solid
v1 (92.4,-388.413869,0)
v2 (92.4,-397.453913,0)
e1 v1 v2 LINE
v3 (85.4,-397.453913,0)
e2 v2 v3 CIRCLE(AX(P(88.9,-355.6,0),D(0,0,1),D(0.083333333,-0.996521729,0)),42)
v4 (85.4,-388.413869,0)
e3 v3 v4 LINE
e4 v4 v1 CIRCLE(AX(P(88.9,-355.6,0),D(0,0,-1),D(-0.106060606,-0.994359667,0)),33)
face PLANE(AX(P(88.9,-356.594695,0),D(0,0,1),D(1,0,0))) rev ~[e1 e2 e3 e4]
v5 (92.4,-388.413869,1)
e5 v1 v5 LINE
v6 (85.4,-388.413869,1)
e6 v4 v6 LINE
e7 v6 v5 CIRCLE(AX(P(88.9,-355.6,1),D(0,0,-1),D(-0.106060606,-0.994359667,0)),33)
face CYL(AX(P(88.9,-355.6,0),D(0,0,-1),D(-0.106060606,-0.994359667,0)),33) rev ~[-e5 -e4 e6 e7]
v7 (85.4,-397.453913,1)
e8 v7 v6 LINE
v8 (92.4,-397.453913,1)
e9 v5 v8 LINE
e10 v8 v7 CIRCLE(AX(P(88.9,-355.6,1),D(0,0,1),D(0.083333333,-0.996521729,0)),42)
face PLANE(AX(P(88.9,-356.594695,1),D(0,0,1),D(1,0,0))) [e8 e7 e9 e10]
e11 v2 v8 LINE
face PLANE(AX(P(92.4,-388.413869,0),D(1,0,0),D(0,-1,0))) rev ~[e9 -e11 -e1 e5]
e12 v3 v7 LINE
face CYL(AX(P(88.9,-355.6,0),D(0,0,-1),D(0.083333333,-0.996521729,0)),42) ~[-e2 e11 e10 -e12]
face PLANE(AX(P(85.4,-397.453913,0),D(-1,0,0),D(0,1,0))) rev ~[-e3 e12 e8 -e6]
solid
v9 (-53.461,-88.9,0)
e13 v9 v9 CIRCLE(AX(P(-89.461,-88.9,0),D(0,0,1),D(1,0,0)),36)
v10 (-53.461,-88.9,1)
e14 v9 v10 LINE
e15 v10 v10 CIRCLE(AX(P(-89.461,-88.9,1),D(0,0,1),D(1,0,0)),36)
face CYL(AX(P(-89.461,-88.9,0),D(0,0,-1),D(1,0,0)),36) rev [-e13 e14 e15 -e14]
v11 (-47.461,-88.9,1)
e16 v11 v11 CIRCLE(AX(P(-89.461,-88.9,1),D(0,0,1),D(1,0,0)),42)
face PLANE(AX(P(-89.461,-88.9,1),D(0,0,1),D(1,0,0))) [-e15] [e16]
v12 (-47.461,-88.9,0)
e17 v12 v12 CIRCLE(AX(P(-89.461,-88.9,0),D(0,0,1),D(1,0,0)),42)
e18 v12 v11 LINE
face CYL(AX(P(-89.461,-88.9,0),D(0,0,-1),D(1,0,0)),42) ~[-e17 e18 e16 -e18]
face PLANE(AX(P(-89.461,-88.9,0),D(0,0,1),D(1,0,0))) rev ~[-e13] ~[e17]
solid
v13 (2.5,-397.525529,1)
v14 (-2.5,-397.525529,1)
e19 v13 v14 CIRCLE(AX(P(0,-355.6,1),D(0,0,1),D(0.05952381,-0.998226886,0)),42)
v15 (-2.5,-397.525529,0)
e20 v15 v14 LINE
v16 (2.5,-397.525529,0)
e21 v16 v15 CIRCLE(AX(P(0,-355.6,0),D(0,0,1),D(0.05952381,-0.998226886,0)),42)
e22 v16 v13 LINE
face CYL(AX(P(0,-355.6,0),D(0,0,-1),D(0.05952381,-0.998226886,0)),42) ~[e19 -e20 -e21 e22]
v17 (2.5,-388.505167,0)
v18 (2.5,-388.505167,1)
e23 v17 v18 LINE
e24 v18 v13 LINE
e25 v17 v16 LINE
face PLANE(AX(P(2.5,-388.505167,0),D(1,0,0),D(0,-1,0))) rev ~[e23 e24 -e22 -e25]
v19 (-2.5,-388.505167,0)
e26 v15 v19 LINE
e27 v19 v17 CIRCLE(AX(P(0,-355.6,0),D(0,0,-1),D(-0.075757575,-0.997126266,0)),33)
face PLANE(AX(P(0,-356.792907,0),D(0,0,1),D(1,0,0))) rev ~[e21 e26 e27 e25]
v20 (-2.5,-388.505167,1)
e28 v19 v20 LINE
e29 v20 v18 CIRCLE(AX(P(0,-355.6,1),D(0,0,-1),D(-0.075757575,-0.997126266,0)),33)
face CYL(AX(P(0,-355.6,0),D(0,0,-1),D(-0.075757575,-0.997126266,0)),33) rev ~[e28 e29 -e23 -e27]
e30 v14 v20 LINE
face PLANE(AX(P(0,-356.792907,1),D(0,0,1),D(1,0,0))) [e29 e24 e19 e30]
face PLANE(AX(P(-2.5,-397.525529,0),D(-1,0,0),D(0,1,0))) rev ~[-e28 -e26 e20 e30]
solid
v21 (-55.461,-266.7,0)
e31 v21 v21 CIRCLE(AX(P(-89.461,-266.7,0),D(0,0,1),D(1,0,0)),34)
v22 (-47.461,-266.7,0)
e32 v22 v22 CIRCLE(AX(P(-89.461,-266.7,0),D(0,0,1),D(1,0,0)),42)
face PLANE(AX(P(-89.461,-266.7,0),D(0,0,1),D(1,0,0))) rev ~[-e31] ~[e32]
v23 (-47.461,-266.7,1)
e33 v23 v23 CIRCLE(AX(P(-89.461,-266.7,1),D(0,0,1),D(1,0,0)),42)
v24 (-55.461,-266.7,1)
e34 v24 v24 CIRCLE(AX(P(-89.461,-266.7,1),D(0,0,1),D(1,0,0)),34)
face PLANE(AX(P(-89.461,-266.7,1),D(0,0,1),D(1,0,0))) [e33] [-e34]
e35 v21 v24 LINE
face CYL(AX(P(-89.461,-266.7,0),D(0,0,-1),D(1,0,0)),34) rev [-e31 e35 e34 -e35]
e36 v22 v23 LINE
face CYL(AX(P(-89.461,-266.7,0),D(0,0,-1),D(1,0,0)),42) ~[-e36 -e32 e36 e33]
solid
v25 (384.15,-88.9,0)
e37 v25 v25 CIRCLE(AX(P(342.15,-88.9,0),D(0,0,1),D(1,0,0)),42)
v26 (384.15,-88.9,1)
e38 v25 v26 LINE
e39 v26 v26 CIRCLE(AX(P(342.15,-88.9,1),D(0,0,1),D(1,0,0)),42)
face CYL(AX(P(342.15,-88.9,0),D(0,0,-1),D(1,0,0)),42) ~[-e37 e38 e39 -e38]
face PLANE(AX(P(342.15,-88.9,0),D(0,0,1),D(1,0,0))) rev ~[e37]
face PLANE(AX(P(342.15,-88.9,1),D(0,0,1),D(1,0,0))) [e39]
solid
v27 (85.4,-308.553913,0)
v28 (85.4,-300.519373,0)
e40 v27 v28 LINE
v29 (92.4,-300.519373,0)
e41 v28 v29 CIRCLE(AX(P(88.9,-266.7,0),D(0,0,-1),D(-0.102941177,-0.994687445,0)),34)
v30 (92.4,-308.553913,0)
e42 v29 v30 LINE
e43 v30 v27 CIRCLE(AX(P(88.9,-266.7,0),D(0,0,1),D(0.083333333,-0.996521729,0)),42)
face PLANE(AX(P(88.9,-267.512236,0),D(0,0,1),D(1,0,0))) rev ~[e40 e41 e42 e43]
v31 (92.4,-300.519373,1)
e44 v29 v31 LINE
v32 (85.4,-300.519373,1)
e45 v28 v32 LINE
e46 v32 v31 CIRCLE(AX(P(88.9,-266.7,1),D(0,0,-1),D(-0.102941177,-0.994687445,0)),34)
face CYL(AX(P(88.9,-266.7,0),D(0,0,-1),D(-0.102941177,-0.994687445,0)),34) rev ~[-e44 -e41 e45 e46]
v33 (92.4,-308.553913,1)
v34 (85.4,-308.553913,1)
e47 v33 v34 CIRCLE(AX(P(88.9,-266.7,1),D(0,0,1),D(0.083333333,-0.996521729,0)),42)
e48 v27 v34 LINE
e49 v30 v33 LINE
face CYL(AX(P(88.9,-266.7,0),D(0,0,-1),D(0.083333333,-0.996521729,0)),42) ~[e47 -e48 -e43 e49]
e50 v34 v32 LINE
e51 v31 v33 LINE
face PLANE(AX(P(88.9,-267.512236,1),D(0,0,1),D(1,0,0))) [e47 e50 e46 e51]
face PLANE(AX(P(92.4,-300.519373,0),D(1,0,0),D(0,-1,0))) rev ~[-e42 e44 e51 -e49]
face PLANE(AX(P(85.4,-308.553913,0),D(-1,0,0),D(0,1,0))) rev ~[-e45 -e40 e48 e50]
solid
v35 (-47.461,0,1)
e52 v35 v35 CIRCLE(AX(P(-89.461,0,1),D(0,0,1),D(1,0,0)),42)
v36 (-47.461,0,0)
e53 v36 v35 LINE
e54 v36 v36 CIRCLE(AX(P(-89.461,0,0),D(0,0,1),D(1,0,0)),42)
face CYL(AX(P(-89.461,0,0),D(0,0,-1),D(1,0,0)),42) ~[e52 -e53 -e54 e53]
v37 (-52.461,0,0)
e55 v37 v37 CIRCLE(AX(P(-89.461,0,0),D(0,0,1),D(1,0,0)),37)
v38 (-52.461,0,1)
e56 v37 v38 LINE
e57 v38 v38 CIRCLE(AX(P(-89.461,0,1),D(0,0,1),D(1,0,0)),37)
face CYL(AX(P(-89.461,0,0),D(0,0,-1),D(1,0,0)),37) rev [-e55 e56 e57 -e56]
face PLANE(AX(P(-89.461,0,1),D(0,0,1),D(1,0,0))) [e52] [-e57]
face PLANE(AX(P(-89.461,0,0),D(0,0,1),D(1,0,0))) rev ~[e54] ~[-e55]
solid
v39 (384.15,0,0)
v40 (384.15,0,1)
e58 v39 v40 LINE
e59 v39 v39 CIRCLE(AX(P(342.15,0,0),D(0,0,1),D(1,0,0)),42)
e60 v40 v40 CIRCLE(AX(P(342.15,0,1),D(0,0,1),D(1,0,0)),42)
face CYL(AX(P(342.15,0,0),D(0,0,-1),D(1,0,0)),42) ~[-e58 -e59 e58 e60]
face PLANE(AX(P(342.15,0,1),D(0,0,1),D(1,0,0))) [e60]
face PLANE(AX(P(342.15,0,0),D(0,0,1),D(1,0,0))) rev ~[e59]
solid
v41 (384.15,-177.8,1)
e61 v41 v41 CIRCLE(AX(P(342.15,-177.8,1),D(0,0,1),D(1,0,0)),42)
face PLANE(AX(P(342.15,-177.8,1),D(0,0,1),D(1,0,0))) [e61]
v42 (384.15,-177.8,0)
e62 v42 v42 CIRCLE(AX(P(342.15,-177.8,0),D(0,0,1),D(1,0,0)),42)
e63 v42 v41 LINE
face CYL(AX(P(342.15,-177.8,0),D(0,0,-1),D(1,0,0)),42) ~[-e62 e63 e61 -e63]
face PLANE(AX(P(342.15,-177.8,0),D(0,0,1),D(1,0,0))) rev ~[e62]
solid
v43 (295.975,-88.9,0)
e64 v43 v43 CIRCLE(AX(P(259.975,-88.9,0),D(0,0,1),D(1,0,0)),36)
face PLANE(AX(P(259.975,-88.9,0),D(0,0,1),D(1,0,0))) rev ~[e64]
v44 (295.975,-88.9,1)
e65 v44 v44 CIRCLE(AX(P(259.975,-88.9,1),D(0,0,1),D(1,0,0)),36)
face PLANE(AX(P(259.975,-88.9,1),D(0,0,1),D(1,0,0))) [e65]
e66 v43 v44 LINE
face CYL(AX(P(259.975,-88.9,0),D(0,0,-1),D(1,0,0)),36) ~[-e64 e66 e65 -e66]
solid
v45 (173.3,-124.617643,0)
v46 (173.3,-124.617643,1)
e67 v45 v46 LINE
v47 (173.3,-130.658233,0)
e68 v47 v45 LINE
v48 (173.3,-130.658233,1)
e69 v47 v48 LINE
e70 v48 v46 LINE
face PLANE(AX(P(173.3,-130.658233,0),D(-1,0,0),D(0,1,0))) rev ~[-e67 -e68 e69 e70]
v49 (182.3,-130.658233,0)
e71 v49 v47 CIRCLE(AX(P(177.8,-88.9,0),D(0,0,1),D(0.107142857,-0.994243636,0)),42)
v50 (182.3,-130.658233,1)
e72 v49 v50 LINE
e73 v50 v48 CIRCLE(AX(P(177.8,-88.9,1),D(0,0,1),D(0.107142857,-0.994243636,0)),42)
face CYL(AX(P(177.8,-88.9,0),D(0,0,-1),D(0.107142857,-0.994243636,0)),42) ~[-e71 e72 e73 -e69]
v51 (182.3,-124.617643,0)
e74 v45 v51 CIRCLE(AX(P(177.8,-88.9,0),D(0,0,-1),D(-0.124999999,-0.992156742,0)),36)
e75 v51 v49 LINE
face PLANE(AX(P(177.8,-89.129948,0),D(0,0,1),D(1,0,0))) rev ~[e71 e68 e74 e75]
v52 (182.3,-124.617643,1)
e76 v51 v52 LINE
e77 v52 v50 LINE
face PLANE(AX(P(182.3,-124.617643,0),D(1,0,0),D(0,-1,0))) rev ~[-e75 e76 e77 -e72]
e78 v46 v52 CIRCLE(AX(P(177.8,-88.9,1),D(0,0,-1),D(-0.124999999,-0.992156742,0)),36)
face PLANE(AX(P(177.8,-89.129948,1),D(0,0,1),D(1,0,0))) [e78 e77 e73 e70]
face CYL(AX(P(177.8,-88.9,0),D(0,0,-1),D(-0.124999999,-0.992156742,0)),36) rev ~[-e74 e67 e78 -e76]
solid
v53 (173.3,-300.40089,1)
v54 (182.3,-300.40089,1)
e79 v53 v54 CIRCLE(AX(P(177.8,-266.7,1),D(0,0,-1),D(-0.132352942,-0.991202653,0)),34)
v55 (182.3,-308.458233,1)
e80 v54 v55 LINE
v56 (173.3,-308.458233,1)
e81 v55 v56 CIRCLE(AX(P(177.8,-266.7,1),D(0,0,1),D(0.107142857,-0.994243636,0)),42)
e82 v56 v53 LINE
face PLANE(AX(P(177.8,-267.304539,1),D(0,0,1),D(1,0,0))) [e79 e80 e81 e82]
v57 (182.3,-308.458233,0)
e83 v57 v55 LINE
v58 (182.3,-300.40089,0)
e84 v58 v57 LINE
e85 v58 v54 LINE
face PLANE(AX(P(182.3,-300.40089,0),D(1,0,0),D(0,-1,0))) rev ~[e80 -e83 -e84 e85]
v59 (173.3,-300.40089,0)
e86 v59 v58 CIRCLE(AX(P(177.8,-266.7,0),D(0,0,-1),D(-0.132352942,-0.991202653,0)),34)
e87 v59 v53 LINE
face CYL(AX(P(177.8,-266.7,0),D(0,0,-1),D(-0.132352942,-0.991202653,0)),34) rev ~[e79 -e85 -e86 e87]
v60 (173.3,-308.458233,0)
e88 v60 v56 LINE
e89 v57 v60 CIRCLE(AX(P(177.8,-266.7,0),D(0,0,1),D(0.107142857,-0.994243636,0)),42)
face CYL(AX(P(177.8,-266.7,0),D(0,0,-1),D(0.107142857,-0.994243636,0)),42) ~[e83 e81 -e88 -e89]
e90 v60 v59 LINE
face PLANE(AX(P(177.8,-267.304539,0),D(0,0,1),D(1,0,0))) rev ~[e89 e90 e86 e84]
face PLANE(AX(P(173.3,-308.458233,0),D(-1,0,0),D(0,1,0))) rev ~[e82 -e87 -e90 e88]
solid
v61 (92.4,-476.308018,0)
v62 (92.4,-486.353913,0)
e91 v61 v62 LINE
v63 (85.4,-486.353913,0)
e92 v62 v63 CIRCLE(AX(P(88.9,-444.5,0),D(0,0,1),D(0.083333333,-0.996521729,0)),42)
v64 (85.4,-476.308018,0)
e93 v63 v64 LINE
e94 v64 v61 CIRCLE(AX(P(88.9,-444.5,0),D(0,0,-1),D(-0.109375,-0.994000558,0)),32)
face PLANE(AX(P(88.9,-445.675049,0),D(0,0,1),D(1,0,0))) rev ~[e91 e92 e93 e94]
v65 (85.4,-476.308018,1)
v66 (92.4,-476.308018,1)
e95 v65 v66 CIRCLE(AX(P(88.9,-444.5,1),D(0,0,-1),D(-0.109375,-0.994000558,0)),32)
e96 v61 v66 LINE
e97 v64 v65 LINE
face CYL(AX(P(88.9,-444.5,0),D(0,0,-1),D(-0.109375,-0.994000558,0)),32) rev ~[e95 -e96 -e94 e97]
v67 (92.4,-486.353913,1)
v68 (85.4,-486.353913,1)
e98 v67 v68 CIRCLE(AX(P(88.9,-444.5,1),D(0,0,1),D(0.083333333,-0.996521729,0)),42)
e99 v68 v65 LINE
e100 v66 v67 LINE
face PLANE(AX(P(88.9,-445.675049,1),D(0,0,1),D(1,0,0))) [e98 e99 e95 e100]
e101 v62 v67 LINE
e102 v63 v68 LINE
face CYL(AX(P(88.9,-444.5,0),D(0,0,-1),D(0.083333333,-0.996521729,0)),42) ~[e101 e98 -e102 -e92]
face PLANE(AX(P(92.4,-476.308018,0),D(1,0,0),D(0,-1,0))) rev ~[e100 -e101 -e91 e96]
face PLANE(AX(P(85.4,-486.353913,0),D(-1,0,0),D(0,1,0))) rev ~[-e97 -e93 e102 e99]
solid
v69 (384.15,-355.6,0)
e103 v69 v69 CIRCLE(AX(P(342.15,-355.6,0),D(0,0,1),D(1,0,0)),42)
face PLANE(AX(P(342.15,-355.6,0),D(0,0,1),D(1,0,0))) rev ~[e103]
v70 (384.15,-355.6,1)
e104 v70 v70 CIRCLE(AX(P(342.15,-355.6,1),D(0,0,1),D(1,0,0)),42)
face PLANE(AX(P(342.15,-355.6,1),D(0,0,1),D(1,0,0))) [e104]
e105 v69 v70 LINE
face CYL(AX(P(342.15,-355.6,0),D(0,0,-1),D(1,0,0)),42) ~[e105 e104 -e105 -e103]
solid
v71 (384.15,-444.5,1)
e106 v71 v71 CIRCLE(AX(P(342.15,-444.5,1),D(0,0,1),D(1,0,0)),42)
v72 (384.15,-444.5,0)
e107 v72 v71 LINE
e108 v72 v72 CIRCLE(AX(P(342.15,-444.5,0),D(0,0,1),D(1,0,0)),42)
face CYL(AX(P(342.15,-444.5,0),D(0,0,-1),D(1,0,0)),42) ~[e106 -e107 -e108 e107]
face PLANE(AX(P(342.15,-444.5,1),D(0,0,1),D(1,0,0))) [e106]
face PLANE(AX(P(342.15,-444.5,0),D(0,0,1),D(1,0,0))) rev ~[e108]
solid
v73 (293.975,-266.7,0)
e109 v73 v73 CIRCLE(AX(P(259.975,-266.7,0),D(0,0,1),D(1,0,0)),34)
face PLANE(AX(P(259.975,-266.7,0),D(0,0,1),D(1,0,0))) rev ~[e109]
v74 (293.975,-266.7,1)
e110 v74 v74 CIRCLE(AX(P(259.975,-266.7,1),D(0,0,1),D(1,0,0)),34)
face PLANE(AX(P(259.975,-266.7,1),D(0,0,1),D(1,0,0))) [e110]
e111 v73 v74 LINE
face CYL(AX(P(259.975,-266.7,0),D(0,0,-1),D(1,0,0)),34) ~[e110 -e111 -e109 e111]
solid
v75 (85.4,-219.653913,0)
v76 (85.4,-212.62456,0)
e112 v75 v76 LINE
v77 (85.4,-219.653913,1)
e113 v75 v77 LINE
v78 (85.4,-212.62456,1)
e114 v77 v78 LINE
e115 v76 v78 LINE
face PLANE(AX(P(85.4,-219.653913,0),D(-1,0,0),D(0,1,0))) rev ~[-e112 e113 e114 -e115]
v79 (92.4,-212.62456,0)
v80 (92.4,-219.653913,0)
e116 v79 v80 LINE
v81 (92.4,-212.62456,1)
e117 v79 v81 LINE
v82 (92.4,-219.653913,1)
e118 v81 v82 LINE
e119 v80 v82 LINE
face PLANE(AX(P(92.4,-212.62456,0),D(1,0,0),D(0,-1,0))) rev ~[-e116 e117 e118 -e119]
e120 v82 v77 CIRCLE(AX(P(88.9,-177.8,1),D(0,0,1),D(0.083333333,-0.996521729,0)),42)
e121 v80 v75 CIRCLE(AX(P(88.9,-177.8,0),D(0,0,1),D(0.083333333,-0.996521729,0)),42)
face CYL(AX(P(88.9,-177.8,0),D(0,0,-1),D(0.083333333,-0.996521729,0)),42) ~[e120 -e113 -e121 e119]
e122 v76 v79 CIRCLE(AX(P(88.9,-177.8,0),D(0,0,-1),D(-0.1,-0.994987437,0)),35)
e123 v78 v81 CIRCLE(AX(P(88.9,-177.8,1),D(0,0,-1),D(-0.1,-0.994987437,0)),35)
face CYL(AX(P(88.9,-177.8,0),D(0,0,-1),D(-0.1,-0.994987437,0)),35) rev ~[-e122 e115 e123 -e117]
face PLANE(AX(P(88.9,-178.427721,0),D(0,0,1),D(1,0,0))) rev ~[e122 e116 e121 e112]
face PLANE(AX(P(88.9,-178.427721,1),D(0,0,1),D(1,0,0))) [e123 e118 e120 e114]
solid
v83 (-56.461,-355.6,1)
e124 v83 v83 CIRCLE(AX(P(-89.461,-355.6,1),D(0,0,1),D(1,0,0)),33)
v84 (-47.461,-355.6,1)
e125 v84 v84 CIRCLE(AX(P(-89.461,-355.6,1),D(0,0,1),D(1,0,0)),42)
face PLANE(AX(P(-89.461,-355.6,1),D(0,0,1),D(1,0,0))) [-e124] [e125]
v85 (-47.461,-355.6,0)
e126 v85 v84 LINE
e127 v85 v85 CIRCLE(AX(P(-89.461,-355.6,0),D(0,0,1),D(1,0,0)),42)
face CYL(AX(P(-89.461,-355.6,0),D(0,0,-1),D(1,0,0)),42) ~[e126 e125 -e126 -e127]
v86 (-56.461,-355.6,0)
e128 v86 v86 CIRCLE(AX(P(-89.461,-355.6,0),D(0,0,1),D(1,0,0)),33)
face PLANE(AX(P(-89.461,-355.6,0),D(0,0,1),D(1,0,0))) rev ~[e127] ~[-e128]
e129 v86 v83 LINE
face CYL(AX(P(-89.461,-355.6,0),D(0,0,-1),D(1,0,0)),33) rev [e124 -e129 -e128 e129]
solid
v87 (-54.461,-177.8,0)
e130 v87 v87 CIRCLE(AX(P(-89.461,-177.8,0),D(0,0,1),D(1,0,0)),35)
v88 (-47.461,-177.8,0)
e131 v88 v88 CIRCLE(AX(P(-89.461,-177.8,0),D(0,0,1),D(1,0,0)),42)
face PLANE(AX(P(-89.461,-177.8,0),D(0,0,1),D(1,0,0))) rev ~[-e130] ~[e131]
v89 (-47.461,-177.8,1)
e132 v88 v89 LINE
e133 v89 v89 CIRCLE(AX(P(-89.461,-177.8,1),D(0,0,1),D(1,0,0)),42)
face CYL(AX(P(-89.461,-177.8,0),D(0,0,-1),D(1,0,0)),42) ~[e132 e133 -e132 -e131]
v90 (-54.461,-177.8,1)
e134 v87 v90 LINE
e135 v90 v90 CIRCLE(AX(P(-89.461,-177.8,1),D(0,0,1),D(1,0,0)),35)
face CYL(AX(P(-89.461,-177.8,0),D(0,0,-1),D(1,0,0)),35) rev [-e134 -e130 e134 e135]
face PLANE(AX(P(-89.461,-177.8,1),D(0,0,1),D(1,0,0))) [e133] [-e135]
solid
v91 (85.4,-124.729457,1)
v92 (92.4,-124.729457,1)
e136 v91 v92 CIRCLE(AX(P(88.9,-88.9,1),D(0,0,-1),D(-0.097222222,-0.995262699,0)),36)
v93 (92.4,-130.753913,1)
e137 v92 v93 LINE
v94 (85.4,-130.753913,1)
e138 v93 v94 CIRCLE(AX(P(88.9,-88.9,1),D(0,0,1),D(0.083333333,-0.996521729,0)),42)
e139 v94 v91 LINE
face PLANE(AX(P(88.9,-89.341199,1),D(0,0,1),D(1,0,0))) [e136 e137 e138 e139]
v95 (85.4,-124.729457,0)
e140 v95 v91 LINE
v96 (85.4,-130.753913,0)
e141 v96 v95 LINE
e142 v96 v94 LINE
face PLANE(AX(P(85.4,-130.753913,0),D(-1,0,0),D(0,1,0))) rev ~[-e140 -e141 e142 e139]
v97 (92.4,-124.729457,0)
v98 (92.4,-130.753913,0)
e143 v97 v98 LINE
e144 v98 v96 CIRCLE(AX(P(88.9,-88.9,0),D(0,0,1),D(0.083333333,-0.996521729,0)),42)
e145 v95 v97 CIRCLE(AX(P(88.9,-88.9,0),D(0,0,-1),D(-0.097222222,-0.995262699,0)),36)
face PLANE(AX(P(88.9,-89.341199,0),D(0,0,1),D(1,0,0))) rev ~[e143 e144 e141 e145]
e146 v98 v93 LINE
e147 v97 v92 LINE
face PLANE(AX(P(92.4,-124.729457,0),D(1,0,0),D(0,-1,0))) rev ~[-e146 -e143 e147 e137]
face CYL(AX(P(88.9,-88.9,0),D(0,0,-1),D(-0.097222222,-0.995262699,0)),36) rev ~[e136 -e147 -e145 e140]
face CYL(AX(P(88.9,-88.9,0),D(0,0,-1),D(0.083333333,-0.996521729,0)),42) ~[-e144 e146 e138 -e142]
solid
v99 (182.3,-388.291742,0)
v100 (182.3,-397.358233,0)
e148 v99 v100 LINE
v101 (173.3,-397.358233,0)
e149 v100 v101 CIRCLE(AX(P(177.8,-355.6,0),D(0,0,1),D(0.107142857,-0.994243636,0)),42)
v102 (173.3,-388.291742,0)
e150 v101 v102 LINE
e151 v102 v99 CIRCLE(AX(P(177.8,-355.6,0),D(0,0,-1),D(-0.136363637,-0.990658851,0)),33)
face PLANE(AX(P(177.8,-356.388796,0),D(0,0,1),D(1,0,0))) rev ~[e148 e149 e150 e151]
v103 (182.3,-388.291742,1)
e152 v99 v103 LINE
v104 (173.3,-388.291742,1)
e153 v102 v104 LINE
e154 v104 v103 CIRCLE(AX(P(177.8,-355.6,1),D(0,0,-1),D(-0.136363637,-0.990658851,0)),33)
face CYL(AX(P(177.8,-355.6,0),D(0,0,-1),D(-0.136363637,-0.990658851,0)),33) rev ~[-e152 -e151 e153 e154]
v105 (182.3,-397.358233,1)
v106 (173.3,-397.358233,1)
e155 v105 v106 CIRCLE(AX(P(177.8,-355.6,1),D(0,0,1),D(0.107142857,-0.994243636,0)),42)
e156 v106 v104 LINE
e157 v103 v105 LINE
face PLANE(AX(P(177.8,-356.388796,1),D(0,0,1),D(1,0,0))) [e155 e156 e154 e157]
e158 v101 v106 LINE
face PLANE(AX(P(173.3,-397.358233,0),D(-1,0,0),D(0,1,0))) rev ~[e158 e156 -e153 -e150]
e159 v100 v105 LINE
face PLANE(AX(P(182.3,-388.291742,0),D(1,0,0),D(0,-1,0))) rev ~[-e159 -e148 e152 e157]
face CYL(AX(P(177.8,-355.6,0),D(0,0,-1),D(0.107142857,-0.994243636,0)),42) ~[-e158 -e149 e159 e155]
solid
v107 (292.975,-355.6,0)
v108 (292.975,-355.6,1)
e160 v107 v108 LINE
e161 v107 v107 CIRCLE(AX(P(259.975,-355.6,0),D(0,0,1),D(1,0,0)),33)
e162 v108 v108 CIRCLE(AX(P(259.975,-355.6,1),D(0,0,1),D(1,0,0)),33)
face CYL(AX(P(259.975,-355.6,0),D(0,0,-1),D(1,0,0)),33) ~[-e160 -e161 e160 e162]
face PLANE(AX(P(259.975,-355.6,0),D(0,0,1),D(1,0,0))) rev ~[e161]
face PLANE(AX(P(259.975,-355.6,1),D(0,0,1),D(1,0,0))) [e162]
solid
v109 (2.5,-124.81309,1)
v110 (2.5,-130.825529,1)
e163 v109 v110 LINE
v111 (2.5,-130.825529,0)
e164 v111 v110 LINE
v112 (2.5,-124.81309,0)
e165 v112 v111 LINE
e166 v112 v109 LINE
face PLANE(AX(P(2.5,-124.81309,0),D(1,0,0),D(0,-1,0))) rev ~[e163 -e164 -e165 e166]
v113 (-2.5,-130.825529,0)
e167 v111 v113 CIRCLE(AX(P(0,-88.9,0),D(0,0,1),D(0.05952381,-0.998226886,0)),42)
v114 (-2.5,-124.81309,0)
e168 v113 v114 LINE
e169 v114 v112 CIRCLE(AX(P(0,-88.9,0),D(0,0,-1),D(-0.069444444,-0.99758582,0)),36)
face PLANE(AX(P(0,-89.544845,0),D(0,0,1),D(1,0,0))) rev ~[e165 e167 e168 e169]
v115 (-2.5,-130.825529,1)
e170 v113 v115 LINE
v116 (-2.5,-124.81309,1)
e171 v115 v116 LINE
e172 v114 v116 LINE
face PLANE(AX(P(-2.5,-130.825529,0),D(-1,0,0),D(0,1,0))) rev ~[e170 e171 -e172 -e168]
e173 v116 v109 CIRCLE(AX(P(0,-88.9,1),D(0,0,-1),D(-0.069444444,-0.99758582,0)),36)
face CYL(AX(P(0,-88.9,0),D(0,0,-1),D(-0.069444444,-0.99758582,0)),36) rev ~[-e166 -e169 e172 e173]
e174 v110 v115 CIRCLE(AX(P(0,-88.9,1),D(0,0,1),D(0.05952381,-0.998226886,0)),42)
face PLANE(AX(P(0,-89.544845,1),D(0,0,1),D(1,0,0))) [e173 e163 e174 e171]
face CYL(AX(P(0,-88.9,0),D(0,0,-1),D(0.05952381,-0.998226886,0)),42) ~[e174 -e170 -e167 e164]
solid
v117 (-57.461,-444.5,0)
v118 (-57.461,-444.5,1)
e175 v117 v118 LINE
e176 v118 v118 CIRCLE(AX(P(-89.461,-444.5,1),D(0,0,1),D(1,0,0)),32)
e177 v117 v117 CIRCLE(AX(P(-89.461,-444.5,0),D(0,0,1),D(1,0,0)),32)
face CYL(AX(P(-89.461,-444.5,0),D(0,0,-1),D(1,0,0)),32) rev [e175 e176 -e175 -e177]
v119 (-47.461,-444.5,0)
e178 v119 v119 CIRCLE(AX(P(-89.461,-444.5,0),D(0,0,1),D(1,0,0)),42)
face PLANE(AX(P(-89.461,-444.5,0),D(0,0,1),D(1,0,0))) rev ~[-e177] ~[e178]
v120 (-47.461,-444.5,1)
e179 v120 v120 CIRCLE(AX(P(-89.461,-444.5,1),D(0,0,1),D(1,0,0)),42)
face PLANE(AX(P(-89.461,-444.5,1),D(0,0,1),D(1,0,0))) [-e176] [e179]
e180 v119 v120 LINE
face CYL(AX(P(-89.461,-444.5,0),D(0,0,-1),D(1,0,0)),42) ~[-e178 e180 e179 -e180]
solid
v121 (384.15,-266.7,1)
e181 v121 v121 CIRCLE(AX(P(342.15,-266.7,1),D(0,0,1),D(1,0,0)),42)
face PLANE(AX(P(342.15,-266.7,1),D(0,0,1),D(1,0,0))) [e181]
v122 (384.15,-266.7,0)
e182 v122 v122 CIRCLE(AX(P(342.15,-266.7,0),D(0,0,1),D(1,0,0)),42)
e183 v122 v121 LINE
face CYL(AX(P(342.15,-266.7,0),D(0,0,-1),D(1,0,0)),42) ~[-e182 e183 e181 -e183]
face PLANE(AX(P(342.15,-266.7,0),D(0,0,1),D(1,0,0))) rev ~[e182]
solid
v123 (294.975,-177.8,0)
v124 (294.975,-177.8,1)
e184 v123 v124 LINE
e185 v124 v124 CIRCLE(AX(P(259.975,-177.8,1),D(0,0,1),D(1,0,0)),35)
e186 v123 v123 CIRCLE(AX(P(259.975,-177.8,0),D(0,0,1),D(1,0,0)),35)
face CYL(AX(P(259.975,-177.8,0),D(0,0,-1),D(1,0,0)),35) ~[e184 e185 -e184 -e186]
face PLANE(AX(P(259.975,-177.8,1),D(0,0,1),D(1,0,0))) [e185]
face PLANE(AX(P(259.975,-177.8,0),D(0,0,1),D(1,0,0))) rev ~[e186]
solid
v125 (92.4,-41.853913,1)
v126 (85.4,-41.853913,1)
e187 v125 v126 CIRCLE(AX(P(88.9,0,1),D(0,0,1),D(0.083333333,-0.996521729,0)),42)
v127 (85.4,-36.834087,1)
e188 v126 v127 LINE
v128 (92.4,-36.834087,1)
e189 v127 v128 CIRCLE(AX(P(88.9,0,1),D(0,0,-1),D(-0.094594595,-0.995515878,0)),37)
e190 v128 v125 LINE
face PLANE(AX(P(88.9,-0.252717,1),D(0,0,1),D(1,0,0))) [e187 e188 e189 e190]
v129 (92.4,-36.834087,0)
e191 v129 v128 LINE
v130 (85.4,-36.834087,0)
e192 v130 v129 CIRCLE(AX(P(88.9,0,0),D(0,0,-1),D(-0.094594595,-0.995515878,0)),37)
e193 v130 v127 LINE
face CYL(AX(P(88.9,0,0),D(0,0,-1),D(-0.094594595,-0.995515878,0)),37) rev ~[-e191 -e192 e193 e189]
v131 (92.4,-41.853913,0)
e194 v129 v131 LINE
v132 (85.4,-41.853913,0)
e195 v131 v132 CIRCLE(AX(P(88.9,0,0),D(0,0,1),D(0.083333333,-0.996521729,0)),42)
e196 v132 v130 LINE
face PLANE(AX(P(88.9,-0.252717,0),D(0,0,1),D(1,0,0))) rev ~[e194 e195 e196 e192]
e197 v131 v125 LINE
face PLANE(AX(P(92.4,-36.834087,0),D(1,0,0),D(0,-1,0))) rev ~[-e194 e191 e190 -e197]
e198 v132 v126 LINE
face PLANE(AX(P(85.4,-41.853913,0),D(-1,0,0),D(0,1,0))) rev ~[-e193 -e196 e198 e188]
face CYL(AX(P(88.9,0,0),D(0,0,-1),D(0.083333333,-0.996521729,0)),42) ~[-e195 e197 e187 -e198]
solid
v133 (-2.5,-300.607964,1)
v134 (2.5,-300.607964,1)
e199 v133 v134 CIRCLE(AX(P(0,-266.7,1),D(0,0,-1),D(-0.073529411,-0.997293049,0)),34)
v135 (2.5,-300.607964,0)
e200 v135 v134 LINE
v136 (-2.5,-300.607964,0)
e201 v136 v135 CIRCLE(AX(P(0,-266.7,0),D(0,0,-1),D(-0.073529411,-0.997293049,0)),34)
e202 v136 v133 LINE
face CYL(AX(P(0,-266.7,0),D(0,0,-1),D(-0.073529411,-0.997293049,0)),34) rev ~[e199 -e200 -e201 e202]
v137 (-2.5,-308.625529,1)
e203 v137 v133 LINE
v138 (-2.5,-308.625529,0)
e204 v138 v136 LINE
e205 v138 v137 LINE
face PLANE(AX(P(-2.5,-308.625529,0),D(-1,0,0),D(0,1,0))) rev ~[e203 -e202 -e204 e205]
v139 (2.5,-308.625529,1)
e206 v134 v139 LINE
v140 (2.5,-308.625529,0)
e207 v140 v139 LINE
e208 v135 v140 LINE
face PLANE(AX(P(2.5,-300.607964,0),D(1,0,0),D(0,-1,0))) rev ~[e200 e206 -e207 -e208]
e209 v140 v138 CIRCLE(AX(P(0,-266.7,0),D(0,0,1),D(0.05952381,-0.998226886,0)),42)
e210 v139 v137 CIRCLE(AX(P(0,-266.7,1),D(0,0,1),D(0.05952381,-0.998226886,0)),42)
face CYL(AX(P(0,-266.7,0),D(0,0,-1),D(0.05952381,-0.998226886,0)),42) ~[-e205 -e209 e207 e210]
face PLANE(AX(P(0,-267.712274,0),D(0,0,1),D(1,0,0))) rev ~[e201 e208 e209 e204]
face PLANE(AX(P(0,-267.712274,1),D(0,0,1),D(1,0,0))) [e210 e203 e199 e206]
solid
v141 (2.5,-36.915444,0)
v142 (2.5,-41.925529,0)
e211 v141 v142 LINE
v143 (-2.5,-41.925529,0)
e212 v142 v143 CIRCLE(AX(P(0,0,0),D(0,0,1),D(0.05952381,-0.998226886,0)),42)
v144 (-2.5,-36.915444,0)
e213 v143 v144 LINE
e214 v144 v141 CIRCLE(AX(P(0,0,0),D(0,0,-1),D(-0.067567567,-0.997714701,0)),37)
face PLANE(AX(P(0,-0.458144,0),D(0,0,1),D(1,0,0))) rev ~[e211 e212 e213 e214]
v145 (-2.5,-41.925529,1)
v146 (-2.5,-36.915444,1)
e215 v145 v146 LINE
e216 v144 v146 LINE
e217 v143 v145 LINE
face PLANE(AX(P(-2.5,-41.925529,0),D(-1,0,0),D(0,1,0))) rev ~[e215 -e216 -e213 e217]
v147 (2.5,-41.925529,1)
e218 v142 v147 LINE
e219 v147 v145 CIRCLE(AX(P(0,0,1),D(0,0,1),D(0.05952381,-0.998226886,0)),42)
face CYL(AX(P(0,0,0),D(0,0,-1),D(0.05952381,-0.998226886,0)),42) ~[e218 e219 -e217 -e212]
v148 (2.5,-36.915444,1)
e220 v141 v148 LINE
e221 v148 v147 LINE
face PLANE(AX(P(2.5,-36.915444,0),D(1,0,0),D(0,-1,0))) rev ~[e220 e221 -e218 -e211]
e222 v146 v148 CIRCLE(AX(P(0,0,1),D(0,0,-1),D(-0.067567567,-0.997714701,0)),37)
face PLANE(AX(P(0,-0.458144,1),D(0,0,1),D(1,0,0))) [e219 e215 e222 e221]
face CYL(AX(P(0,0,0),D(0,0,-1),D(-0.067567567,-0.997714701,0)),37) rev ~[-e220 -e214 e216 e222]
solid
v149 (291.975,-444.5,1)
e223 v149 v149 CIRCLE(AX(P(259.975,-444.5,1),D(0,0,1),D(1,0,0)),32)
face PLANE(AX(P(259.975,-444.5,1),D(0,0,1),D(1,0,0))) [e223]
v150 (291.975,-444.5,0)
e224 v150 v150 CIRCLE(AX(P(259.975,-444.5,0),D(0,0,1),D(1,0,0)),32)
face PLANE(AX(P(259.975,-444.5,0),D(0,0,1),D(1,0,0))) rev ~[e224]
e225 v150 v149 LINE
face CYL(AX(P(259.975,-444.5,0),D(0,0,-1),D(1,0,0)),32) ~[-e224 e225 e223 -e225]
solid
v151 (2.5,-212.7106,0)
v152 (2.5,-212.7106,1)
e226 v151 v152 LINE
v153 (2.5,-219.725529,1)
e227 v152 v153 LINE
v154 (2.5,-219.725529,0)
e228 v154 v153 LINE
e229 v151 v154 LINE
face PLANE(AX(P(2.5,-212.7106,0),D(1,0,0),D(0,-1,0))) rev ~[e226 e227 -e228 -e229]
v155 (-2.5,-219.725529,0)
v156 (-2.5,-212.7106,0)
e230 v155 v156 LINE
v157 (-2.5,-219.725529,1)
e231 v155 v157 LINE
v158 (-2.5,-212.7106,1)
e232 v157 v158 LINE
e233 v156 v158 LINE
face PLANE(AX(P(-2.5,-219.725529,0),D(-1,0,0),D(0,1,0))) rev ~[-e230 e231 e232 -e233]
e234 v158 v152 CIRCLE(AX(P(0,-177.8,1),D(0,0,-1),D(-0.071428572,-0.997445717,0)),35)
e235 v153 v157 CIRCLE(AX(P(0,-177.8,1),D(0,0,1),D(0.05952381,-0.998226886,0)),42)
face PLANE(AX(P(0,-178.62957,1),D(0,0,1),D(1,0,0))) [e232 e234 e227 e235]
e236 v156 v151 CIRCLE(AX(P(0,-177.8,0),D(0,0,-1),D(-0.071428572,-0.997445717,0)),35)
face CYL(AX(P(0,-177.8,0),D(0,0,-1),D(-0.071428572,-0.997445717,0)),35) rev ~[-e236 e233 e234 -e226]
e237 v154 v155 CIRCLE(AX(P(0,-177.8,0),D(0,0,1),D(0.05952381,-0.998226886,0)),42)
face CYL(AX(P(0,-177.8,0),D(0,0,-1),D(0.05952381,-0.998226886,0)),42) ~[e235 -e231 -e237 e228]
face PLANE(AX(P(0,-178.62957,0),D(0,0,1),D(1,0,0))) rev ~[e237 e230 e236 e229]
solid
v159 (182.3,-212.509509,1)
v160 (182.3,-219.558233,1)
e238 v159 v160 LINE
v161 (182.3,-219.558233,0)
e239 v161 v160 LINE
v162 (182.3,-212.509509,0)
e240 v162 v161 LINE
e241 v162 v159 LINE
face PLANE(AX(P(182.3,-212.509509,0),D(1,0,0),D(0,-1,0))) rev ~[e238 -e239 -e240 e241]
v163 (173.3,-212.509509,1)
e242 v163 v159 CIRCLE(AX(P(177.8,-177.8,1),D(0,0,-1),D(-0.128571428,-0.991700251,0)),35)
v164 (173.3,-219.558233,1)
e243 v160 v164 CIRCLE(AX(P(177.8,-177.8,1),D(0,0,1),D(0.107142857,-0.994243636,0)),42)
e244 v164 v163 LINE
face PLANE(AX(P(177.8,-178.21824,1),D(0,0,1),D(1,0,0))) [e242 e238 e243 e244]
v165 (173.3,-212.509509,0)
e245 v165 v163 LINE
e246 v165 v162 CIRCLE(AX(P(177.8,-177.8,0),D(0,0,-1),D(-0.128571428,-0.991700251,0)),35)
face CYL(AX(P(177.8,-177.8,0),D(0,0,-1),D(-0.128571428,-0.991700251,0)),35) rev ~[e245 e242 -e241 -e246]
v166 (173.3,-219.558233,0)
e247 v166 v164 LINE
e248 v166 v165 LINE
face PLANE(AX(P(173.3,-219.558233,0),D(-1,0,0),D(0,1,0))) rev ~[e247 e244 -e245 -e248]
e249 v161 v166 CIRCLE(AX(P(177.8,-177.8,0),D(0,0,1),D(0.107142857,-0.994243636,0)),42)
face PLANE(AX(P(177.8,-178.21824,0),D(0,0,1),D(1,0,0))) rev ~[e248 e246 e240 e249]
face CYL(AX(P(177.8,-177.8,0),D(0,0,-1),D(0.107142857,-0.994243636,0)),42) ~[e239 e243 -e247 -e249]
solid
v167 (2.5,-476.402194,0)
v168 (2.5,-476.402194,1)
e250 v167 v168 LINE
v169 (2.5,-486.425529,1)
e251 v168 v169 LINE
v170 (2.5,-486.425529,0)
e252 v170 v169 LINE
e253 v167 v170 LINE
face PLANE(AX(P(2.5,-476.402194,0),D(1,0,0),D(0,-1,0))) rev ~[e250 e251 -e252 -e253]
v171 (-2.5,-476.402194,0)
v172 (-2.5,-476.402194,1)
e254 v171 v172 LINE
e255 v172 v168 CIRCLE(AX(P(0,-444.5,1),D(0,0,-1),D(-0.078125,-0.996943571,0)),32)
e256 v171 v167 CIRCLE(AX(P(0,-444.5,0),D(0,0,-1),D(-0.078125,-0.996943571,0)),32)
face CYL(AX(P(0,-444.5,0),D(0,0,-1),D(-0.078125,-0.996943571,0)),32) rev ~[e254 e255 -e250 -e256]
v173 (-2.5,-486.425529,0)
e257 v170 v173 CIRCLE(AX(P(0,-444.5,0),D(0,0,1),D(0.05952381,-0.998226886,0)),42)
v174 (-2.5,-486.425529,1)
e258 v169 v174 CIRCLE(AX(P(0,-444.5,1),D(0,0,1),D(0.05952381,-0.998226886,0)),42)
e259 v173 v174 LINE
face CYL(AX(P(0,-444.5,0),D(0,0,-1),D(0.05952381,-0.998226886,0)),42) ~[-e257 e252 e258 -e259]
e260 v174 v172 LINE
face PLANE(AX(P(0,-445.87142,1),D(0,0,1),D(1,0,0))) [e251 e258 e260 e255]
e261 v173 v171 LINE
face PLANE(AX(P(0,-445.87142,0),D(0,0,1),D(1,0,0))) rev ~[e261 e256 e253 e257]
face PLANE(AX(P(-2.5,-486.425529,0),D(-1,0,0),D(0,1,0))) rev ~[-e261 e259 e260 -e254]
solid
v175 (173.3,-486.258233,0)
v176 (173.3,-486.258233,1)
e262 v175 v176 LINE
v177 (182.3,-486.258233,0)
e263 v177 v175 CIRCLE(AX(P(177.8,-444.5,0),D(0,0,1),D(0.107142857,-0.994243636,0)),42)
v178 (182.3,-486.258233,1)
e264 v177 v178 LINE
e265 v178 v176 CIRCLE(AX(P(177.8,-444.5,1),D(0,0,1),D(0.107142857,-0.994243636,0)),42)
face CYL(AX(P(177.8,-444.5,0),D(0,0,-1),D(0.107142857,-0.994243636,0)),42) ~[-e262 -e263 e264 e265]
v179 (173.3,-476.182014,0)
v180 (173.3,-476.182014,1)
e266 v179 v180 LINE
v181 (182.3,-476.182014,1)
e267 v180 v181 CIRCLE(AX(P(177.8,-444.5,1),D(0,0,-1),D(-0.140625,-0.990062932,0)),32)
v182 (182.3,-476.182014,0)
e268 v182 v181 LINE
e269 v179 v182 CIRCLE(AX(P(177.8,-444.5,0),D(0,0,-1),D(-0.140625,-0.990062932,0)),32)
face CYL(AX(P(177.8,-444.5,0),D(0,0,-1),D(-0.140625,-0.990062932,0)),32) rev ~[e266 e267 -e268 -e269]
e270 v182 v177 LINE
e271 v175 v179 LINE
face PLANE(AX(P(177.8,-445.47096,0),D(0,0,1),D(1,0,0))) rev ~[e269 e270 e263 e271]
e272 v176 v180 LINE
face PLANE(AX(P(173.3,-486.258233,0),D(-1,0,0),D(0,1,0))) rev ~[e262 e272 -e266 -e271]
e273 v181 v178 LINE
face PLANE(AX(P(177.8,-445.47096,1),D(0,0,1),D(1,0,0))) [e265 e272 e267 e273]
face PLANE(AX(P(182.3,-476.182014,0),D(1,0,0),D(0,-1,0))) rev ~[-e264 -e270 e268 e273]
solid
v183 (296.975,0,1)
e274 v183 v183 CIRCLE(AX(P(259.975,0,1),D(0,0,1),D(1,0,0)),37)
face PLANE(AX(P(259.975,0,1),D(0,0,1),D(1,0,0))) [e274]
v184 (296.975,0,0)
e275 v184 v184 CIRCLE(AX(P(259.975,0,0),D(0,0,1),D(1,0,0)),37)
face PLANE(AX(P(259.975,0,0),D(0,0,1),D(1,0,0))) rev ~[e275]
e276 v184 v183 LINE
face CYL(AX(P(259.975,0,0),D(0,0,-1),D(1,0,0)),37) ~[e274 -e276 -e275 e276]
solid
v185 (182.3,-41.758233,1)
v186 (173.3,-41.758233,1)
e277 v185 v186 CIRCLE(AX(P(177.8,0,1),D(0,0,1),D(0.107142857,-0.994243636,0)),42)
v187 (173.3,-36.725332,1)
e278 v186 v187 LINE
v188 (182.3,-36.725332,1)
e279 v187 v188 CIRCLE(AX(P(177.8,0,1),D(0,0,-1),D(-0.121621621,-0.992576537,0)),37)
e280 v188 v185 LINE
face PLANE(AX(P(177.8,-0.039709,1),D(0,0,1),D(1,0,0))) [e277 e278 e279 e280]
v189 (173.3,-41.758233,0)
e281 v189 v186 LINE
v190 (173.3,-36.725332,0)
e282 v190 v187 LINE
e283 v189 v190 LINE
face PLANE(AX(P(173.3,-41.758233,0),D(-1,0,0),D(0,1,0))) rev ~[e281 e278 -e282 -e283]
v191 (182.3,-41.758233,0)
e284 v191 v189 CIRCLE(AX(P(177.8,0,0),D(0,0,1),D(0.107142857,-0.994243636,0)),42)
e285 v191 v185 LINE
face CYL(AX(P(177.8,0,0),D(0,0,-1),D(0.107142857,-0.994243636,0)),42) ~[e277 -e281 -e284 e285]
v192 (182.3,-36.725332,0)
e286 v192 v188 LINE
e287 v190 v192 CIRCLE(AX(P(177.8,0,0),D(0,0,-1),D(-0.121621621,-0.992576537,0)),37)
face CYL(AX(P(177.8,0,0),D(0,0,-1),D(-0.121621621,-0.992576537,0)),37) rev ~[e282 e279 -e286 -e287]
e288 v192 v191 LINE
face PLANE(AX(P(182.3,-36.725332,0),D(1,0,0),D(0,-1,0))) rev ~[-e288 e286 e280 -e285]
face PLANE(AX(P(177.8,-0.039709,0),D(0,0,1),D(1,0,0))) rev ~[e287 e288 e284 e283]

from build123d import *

# Parameters (mm, degrees)
F1_DEPTH = 1
F2_R     = 37
F2_R_2   = 42
F2_R_3   = 36
F2_R_4   = 35
F2_R_5   = 34
F2_R_6   = 33
F2_R_7   = 32
F3_DEPTH = 1
F4_R     = 42
F4_R_2   = 37
F4_R_3   = 36
F4_R_4   = 35
F4_R_5   = 34
F4_R_6   = 33
F4_R_7   = 32
F5_DEPTH = 1


with BuildPart() as f1:
    # F0 (on Top) → F1 (new body)
    with BuildSketch(Plane.XY):
        with BuildLine():
            Line((2.5, -36.915444), (2.5, -41.925529))
            ThreePointArc((2.5, -41.925529), (0, 42), (-2.5, -41.925529))
            Line((-2.5, -41.925529), (-2.5, -36.915444))
            ThreePointArc((-2.5, -36.915444), (0, 37), (2.5, -36.915444))
        make_face()
        with BuildLine():
            Line((92.4, -36.834087), (92.4, -41.853913))
            ThreePointArc((92.4, -41.853913), (88.9, 42), (85.4, -41.853913))
            Line((85.4, -41.853913), (85.4, -36.834087))
            ThreePointArc((85.4, -36.834087), (88.9, 37), (92.4, -36.834087))
        make_face()
        with BuildLine():
            Line((182.3, -36.725332), (182.3, -41.758233))
            ThreePointArc((182.3, -41.758233), (177.8, 42), (173.3, -41.758233))
            Line((173.3, -41.758233), (173.3, -36.725332))
            ThreePointArc((173.3, -36.725332), (177.8, 37), (182.3, -36.725332))
        make_face()
        with BuildLine():
            Line((92.4, -124.729457), (92.4, -130.753913))
            ThreePointArc((92.4, -130.753913), (88.9, -46.9), (85.4, -130.753913))
            Line((85.4, -130.753913), (85.4, -124.729457))
            ThreePointArc((85.4, -124.729457), (88.9, -52.9), (92.4, -124.729457))
        make_face()
        with BuildLine():
            Line((182.3, -124.617643), (182.3, -130.658233))
            ThreePointArc((182.3, -130.658233), (177.8, -46.9), (173.3, -130.658233))
            Line((173.3, -130.658233), (173.3, -124.617643))
            ThreePointArc((173.3, -124.617643), (177.8, -52.9), (182.3, -124.617643))
        make_face()
        with BuildLine():
            Line((2.5, -124.81309), (2.5, -130.825529))
            ThreePointArc((2.5, -130.825529), (0, -46.9), (-2.5, -130.825529))
            Line((-2.5, -130.825529), (-2.5, -125.815444))
            Line((-2.5, -125.815444), (-2.5, -124.81309))
            ThreePointArc((-2.5, -124.81309), (0, -52.9), (2.5, -124.81309))
        make_face()
        with BuildLine():
            Line((92.4, -212.62456), (92.4, -219.653913))
            ThreePointArc((92.4, -219.653913), (88.9, -135.8), (85.4, -219.653913))
            Line((85.4, -219.653913), (85.4, -212.62456))
            ThreePointArc((85.4, -212.62456), (88.9, -142.8), (92.4, -212.62456))
        make_face()
        with BuildLine():
            Line((182.3, -212.509509), (182.3, -219.558233))
            ThreePointArc((182.3, -219.558233), (177.8, -135.8), (173.3, -219.558233))
            Line((173.3, -219.558233), (173.3, -212.509509))
            ThreePointArc((173.3, -212.509509), (177.8, -142.8), (182.3, -212.509509))
        make_face()
        with BuildLine():
            Line((2.5, -212.7106), (2.5, -219.725529))
            ThreePointArc((2.5, -219.725529), (0, -135.8), (-2.5, -219.725529))
            Line((-2.5, -219.725529), (-2.5, -212.7106))
            ThreePointArc((-2.5, -212.7106), (0, -142.8), (2.5, -212.7106))
        make_face()
        with BuildLine():
            Line((92.4, -300.519373), (92.4, -308.553913))
            ThreePointArc((92.4, -308.553913), (88.9, -224.7), (85.4, -308.553913))
            Line((85.4, -308.553913), (85.4, -300.519373))
            ThreePointArc((85.4, -300.519373), (88.9, -232.7), (92.4, -300.519373))
        make_face()
        with BuildLine():
            Line((182.3, -300.40089), (182.3, -308.458233))
            ThreePointArc((182.3, -308.458233), (177.8, -224.7), (173.3, -308.458233))
            Line((173.3, -308.458233), (173.3, -300.40089))
            ThreePointArc((173.3, -300.40089), (177.8, -232.7), (182.3, -300.40089))
        make_face()
        with BuildLine():
            Line((2.5, -300.607964), (2.5, -308.625529))
            ThreePointArc((2.5, -308.625529), (0, -224.7), (-2.5, -308.625529))
            Line((-2.5, -308.625529), (-2.5, -300.607964))
            ThreePointArc((-2.5, -300.607964), (0, -232.7), (2.5, -300.607964))
        make_face()
        with BuildLine():
            Line((92.4, -388.413869), (92.4, -397.453913))
            ThreePointArc((92.4, -397.453913), (88.9, -313.6), (85.4, -397.453913))
            Line((85.4, -397.453913), (85.4, -388.413869))
            ThreePointArc((85.4, -388.413869), (88.9, -322.6), (92.4, -388.413869))
        make_face()
        with BuildLine():
            Line((182.3, -388.291742), (182.3, -397.358233))
            ThreePointArc((182.3, -397.358233), (177.8, -313.6), (173.3, -397.358233))
            Line((173.3, -397.358233), (173.3, -388.291742))
            ThreePointArc((173.3, -388.291742), (177.8, -322.6), (182.3, -388.291742))
        make_face()
        with BuildLine():
            Line((2.5, -388.505167), (2.5, -397.525529))
            ThreePointArc((2.5, -397.525529), (0, -313.6), (-2.5, -397.525529))
            Line((-2.5, -397.525529), (-2.5, -388.505167))
            ThreePointArc((-2.5, -388.505167), (0, -322.6), (2.5, -388.505167))
        make_face()
        with BuildLine():
            Line((92.4, -476.308018), (92.4, -486.353913))
            ThreePointArc((92.4, -486.353913), (88.9, -402.5), (85.4, -486.353913))
            Line((85.4, -486.353913), (85.4, -476.308018))
            ThreePointArc((85.4, -476.308018), (88.9, -412.5), (92.4, -476.308018))
        make_face()
        with BuildLine():
            Line((182.3, -476.182014), (182.3, -486.258233))
            ThreePointArc((182.3, -486.258233), (177.8, -402.5), (173.3, -486.258233))
            Line((173.3, -486.258233), (173.3, -476.182014))
            ThreePointArc((173.3, -476.182014), (177.8, -412.5), (182.3, -476.182014))
        make_face()
        with BuildLine():
            Line((2.5, -476.402194), (2.5, -486.425529))
            ThreePointArc((2.5, -486.425529), (0, -402.5), (-2.5, -486.425529))
            Line((-2.5, -486.425529), (-2.5, -476.402194))
            ThreePointArc((-2.5, -476.402194), (0, -412.5), (2.5, -476.402194))
        make_face()
    extrude(amount=F1_DEPTH)


with BuildPart() as f3:
    # F2 (on Top) → F3 (new body)
    with BuildSketch(Plane.XY):
        with Locations((259.975, 0)):
            Circle(F2_R)
        with Locations((342.15, 0)):
            Circle(F2_R_2)
        with Locations((342.15, -88.9)):
            Circle(F2_R_2)
        with Locations((342.15, -177.8)):
            Circle(F2_R_2)
        with Locations((342.15, -266.7)):
            Circle(F2_R_2)
        with Locations((342.15, -355.6)):
            Circle(F2_R_2)
        with Locations((342.15, -444.5)):
            Circle(F2_R_2)
        with Locations((259.975, -88.9)):
            Circle(F2_R_3)
        with Locations((259.975, -177.8)):
            Circle(F2_R_4)
        with Locations((259.975, -266.7)):
            Circle(F2_R_5)
        with Locations((259.975, -355.6)):
            Circle(F2_R_6)
        with Locations((259.975, -444.5)):
            Circle(F2_R_7)
    extrude(amount=F3_DEPTH)


with BuildPart() as f5:
    # F4 (on Top) → F5 (new body)
    with BuildSketch(Plane.XY):
        with Locations((-89.461, 0)):
            Circle(F4_R)
        with Locations((-89.461, 0)):
            Circle(F4_R_2, mode=Mode.SUBTRACT)
        with Locations((-89.461, -88.9)):
            Circle(F4_R)
        with Locations((-89.461, -88.9)):
            Circle(F4_R_3, mode=Mode.SUBTRACT)
        with Locations((-89.461, -177.8)):
            Circle(F4_R)
        with Locations((-89.461, -177.8)):
            Circle(F4_R_4, mode=Mode.SUBTRACT)
        with Locations((-89.461, -266.7)):
            Circle(F4_R)
        with Locations((-89.461, -266.7)):
            Circle(F4_R_5, mode=Mode.SUBTRACT)
        with Locations((-89.461, -355.6)):
            Circle(F4_R)
        with Locations((-89.461, -355.6)):
            Circle(F4_R_6, mode=Mode.SUBTRACT)
        with Locations((-89.461, -444.5)):
            Circle(F4_R)
        with Locations((-89.461, -444.5)):
            Circle(F4_R_7, mode=Mode.SUBTRACT)
    extrude(amount=F5_DEPTH)


solid = Compound([f1.part, f3.part, f5.part])
